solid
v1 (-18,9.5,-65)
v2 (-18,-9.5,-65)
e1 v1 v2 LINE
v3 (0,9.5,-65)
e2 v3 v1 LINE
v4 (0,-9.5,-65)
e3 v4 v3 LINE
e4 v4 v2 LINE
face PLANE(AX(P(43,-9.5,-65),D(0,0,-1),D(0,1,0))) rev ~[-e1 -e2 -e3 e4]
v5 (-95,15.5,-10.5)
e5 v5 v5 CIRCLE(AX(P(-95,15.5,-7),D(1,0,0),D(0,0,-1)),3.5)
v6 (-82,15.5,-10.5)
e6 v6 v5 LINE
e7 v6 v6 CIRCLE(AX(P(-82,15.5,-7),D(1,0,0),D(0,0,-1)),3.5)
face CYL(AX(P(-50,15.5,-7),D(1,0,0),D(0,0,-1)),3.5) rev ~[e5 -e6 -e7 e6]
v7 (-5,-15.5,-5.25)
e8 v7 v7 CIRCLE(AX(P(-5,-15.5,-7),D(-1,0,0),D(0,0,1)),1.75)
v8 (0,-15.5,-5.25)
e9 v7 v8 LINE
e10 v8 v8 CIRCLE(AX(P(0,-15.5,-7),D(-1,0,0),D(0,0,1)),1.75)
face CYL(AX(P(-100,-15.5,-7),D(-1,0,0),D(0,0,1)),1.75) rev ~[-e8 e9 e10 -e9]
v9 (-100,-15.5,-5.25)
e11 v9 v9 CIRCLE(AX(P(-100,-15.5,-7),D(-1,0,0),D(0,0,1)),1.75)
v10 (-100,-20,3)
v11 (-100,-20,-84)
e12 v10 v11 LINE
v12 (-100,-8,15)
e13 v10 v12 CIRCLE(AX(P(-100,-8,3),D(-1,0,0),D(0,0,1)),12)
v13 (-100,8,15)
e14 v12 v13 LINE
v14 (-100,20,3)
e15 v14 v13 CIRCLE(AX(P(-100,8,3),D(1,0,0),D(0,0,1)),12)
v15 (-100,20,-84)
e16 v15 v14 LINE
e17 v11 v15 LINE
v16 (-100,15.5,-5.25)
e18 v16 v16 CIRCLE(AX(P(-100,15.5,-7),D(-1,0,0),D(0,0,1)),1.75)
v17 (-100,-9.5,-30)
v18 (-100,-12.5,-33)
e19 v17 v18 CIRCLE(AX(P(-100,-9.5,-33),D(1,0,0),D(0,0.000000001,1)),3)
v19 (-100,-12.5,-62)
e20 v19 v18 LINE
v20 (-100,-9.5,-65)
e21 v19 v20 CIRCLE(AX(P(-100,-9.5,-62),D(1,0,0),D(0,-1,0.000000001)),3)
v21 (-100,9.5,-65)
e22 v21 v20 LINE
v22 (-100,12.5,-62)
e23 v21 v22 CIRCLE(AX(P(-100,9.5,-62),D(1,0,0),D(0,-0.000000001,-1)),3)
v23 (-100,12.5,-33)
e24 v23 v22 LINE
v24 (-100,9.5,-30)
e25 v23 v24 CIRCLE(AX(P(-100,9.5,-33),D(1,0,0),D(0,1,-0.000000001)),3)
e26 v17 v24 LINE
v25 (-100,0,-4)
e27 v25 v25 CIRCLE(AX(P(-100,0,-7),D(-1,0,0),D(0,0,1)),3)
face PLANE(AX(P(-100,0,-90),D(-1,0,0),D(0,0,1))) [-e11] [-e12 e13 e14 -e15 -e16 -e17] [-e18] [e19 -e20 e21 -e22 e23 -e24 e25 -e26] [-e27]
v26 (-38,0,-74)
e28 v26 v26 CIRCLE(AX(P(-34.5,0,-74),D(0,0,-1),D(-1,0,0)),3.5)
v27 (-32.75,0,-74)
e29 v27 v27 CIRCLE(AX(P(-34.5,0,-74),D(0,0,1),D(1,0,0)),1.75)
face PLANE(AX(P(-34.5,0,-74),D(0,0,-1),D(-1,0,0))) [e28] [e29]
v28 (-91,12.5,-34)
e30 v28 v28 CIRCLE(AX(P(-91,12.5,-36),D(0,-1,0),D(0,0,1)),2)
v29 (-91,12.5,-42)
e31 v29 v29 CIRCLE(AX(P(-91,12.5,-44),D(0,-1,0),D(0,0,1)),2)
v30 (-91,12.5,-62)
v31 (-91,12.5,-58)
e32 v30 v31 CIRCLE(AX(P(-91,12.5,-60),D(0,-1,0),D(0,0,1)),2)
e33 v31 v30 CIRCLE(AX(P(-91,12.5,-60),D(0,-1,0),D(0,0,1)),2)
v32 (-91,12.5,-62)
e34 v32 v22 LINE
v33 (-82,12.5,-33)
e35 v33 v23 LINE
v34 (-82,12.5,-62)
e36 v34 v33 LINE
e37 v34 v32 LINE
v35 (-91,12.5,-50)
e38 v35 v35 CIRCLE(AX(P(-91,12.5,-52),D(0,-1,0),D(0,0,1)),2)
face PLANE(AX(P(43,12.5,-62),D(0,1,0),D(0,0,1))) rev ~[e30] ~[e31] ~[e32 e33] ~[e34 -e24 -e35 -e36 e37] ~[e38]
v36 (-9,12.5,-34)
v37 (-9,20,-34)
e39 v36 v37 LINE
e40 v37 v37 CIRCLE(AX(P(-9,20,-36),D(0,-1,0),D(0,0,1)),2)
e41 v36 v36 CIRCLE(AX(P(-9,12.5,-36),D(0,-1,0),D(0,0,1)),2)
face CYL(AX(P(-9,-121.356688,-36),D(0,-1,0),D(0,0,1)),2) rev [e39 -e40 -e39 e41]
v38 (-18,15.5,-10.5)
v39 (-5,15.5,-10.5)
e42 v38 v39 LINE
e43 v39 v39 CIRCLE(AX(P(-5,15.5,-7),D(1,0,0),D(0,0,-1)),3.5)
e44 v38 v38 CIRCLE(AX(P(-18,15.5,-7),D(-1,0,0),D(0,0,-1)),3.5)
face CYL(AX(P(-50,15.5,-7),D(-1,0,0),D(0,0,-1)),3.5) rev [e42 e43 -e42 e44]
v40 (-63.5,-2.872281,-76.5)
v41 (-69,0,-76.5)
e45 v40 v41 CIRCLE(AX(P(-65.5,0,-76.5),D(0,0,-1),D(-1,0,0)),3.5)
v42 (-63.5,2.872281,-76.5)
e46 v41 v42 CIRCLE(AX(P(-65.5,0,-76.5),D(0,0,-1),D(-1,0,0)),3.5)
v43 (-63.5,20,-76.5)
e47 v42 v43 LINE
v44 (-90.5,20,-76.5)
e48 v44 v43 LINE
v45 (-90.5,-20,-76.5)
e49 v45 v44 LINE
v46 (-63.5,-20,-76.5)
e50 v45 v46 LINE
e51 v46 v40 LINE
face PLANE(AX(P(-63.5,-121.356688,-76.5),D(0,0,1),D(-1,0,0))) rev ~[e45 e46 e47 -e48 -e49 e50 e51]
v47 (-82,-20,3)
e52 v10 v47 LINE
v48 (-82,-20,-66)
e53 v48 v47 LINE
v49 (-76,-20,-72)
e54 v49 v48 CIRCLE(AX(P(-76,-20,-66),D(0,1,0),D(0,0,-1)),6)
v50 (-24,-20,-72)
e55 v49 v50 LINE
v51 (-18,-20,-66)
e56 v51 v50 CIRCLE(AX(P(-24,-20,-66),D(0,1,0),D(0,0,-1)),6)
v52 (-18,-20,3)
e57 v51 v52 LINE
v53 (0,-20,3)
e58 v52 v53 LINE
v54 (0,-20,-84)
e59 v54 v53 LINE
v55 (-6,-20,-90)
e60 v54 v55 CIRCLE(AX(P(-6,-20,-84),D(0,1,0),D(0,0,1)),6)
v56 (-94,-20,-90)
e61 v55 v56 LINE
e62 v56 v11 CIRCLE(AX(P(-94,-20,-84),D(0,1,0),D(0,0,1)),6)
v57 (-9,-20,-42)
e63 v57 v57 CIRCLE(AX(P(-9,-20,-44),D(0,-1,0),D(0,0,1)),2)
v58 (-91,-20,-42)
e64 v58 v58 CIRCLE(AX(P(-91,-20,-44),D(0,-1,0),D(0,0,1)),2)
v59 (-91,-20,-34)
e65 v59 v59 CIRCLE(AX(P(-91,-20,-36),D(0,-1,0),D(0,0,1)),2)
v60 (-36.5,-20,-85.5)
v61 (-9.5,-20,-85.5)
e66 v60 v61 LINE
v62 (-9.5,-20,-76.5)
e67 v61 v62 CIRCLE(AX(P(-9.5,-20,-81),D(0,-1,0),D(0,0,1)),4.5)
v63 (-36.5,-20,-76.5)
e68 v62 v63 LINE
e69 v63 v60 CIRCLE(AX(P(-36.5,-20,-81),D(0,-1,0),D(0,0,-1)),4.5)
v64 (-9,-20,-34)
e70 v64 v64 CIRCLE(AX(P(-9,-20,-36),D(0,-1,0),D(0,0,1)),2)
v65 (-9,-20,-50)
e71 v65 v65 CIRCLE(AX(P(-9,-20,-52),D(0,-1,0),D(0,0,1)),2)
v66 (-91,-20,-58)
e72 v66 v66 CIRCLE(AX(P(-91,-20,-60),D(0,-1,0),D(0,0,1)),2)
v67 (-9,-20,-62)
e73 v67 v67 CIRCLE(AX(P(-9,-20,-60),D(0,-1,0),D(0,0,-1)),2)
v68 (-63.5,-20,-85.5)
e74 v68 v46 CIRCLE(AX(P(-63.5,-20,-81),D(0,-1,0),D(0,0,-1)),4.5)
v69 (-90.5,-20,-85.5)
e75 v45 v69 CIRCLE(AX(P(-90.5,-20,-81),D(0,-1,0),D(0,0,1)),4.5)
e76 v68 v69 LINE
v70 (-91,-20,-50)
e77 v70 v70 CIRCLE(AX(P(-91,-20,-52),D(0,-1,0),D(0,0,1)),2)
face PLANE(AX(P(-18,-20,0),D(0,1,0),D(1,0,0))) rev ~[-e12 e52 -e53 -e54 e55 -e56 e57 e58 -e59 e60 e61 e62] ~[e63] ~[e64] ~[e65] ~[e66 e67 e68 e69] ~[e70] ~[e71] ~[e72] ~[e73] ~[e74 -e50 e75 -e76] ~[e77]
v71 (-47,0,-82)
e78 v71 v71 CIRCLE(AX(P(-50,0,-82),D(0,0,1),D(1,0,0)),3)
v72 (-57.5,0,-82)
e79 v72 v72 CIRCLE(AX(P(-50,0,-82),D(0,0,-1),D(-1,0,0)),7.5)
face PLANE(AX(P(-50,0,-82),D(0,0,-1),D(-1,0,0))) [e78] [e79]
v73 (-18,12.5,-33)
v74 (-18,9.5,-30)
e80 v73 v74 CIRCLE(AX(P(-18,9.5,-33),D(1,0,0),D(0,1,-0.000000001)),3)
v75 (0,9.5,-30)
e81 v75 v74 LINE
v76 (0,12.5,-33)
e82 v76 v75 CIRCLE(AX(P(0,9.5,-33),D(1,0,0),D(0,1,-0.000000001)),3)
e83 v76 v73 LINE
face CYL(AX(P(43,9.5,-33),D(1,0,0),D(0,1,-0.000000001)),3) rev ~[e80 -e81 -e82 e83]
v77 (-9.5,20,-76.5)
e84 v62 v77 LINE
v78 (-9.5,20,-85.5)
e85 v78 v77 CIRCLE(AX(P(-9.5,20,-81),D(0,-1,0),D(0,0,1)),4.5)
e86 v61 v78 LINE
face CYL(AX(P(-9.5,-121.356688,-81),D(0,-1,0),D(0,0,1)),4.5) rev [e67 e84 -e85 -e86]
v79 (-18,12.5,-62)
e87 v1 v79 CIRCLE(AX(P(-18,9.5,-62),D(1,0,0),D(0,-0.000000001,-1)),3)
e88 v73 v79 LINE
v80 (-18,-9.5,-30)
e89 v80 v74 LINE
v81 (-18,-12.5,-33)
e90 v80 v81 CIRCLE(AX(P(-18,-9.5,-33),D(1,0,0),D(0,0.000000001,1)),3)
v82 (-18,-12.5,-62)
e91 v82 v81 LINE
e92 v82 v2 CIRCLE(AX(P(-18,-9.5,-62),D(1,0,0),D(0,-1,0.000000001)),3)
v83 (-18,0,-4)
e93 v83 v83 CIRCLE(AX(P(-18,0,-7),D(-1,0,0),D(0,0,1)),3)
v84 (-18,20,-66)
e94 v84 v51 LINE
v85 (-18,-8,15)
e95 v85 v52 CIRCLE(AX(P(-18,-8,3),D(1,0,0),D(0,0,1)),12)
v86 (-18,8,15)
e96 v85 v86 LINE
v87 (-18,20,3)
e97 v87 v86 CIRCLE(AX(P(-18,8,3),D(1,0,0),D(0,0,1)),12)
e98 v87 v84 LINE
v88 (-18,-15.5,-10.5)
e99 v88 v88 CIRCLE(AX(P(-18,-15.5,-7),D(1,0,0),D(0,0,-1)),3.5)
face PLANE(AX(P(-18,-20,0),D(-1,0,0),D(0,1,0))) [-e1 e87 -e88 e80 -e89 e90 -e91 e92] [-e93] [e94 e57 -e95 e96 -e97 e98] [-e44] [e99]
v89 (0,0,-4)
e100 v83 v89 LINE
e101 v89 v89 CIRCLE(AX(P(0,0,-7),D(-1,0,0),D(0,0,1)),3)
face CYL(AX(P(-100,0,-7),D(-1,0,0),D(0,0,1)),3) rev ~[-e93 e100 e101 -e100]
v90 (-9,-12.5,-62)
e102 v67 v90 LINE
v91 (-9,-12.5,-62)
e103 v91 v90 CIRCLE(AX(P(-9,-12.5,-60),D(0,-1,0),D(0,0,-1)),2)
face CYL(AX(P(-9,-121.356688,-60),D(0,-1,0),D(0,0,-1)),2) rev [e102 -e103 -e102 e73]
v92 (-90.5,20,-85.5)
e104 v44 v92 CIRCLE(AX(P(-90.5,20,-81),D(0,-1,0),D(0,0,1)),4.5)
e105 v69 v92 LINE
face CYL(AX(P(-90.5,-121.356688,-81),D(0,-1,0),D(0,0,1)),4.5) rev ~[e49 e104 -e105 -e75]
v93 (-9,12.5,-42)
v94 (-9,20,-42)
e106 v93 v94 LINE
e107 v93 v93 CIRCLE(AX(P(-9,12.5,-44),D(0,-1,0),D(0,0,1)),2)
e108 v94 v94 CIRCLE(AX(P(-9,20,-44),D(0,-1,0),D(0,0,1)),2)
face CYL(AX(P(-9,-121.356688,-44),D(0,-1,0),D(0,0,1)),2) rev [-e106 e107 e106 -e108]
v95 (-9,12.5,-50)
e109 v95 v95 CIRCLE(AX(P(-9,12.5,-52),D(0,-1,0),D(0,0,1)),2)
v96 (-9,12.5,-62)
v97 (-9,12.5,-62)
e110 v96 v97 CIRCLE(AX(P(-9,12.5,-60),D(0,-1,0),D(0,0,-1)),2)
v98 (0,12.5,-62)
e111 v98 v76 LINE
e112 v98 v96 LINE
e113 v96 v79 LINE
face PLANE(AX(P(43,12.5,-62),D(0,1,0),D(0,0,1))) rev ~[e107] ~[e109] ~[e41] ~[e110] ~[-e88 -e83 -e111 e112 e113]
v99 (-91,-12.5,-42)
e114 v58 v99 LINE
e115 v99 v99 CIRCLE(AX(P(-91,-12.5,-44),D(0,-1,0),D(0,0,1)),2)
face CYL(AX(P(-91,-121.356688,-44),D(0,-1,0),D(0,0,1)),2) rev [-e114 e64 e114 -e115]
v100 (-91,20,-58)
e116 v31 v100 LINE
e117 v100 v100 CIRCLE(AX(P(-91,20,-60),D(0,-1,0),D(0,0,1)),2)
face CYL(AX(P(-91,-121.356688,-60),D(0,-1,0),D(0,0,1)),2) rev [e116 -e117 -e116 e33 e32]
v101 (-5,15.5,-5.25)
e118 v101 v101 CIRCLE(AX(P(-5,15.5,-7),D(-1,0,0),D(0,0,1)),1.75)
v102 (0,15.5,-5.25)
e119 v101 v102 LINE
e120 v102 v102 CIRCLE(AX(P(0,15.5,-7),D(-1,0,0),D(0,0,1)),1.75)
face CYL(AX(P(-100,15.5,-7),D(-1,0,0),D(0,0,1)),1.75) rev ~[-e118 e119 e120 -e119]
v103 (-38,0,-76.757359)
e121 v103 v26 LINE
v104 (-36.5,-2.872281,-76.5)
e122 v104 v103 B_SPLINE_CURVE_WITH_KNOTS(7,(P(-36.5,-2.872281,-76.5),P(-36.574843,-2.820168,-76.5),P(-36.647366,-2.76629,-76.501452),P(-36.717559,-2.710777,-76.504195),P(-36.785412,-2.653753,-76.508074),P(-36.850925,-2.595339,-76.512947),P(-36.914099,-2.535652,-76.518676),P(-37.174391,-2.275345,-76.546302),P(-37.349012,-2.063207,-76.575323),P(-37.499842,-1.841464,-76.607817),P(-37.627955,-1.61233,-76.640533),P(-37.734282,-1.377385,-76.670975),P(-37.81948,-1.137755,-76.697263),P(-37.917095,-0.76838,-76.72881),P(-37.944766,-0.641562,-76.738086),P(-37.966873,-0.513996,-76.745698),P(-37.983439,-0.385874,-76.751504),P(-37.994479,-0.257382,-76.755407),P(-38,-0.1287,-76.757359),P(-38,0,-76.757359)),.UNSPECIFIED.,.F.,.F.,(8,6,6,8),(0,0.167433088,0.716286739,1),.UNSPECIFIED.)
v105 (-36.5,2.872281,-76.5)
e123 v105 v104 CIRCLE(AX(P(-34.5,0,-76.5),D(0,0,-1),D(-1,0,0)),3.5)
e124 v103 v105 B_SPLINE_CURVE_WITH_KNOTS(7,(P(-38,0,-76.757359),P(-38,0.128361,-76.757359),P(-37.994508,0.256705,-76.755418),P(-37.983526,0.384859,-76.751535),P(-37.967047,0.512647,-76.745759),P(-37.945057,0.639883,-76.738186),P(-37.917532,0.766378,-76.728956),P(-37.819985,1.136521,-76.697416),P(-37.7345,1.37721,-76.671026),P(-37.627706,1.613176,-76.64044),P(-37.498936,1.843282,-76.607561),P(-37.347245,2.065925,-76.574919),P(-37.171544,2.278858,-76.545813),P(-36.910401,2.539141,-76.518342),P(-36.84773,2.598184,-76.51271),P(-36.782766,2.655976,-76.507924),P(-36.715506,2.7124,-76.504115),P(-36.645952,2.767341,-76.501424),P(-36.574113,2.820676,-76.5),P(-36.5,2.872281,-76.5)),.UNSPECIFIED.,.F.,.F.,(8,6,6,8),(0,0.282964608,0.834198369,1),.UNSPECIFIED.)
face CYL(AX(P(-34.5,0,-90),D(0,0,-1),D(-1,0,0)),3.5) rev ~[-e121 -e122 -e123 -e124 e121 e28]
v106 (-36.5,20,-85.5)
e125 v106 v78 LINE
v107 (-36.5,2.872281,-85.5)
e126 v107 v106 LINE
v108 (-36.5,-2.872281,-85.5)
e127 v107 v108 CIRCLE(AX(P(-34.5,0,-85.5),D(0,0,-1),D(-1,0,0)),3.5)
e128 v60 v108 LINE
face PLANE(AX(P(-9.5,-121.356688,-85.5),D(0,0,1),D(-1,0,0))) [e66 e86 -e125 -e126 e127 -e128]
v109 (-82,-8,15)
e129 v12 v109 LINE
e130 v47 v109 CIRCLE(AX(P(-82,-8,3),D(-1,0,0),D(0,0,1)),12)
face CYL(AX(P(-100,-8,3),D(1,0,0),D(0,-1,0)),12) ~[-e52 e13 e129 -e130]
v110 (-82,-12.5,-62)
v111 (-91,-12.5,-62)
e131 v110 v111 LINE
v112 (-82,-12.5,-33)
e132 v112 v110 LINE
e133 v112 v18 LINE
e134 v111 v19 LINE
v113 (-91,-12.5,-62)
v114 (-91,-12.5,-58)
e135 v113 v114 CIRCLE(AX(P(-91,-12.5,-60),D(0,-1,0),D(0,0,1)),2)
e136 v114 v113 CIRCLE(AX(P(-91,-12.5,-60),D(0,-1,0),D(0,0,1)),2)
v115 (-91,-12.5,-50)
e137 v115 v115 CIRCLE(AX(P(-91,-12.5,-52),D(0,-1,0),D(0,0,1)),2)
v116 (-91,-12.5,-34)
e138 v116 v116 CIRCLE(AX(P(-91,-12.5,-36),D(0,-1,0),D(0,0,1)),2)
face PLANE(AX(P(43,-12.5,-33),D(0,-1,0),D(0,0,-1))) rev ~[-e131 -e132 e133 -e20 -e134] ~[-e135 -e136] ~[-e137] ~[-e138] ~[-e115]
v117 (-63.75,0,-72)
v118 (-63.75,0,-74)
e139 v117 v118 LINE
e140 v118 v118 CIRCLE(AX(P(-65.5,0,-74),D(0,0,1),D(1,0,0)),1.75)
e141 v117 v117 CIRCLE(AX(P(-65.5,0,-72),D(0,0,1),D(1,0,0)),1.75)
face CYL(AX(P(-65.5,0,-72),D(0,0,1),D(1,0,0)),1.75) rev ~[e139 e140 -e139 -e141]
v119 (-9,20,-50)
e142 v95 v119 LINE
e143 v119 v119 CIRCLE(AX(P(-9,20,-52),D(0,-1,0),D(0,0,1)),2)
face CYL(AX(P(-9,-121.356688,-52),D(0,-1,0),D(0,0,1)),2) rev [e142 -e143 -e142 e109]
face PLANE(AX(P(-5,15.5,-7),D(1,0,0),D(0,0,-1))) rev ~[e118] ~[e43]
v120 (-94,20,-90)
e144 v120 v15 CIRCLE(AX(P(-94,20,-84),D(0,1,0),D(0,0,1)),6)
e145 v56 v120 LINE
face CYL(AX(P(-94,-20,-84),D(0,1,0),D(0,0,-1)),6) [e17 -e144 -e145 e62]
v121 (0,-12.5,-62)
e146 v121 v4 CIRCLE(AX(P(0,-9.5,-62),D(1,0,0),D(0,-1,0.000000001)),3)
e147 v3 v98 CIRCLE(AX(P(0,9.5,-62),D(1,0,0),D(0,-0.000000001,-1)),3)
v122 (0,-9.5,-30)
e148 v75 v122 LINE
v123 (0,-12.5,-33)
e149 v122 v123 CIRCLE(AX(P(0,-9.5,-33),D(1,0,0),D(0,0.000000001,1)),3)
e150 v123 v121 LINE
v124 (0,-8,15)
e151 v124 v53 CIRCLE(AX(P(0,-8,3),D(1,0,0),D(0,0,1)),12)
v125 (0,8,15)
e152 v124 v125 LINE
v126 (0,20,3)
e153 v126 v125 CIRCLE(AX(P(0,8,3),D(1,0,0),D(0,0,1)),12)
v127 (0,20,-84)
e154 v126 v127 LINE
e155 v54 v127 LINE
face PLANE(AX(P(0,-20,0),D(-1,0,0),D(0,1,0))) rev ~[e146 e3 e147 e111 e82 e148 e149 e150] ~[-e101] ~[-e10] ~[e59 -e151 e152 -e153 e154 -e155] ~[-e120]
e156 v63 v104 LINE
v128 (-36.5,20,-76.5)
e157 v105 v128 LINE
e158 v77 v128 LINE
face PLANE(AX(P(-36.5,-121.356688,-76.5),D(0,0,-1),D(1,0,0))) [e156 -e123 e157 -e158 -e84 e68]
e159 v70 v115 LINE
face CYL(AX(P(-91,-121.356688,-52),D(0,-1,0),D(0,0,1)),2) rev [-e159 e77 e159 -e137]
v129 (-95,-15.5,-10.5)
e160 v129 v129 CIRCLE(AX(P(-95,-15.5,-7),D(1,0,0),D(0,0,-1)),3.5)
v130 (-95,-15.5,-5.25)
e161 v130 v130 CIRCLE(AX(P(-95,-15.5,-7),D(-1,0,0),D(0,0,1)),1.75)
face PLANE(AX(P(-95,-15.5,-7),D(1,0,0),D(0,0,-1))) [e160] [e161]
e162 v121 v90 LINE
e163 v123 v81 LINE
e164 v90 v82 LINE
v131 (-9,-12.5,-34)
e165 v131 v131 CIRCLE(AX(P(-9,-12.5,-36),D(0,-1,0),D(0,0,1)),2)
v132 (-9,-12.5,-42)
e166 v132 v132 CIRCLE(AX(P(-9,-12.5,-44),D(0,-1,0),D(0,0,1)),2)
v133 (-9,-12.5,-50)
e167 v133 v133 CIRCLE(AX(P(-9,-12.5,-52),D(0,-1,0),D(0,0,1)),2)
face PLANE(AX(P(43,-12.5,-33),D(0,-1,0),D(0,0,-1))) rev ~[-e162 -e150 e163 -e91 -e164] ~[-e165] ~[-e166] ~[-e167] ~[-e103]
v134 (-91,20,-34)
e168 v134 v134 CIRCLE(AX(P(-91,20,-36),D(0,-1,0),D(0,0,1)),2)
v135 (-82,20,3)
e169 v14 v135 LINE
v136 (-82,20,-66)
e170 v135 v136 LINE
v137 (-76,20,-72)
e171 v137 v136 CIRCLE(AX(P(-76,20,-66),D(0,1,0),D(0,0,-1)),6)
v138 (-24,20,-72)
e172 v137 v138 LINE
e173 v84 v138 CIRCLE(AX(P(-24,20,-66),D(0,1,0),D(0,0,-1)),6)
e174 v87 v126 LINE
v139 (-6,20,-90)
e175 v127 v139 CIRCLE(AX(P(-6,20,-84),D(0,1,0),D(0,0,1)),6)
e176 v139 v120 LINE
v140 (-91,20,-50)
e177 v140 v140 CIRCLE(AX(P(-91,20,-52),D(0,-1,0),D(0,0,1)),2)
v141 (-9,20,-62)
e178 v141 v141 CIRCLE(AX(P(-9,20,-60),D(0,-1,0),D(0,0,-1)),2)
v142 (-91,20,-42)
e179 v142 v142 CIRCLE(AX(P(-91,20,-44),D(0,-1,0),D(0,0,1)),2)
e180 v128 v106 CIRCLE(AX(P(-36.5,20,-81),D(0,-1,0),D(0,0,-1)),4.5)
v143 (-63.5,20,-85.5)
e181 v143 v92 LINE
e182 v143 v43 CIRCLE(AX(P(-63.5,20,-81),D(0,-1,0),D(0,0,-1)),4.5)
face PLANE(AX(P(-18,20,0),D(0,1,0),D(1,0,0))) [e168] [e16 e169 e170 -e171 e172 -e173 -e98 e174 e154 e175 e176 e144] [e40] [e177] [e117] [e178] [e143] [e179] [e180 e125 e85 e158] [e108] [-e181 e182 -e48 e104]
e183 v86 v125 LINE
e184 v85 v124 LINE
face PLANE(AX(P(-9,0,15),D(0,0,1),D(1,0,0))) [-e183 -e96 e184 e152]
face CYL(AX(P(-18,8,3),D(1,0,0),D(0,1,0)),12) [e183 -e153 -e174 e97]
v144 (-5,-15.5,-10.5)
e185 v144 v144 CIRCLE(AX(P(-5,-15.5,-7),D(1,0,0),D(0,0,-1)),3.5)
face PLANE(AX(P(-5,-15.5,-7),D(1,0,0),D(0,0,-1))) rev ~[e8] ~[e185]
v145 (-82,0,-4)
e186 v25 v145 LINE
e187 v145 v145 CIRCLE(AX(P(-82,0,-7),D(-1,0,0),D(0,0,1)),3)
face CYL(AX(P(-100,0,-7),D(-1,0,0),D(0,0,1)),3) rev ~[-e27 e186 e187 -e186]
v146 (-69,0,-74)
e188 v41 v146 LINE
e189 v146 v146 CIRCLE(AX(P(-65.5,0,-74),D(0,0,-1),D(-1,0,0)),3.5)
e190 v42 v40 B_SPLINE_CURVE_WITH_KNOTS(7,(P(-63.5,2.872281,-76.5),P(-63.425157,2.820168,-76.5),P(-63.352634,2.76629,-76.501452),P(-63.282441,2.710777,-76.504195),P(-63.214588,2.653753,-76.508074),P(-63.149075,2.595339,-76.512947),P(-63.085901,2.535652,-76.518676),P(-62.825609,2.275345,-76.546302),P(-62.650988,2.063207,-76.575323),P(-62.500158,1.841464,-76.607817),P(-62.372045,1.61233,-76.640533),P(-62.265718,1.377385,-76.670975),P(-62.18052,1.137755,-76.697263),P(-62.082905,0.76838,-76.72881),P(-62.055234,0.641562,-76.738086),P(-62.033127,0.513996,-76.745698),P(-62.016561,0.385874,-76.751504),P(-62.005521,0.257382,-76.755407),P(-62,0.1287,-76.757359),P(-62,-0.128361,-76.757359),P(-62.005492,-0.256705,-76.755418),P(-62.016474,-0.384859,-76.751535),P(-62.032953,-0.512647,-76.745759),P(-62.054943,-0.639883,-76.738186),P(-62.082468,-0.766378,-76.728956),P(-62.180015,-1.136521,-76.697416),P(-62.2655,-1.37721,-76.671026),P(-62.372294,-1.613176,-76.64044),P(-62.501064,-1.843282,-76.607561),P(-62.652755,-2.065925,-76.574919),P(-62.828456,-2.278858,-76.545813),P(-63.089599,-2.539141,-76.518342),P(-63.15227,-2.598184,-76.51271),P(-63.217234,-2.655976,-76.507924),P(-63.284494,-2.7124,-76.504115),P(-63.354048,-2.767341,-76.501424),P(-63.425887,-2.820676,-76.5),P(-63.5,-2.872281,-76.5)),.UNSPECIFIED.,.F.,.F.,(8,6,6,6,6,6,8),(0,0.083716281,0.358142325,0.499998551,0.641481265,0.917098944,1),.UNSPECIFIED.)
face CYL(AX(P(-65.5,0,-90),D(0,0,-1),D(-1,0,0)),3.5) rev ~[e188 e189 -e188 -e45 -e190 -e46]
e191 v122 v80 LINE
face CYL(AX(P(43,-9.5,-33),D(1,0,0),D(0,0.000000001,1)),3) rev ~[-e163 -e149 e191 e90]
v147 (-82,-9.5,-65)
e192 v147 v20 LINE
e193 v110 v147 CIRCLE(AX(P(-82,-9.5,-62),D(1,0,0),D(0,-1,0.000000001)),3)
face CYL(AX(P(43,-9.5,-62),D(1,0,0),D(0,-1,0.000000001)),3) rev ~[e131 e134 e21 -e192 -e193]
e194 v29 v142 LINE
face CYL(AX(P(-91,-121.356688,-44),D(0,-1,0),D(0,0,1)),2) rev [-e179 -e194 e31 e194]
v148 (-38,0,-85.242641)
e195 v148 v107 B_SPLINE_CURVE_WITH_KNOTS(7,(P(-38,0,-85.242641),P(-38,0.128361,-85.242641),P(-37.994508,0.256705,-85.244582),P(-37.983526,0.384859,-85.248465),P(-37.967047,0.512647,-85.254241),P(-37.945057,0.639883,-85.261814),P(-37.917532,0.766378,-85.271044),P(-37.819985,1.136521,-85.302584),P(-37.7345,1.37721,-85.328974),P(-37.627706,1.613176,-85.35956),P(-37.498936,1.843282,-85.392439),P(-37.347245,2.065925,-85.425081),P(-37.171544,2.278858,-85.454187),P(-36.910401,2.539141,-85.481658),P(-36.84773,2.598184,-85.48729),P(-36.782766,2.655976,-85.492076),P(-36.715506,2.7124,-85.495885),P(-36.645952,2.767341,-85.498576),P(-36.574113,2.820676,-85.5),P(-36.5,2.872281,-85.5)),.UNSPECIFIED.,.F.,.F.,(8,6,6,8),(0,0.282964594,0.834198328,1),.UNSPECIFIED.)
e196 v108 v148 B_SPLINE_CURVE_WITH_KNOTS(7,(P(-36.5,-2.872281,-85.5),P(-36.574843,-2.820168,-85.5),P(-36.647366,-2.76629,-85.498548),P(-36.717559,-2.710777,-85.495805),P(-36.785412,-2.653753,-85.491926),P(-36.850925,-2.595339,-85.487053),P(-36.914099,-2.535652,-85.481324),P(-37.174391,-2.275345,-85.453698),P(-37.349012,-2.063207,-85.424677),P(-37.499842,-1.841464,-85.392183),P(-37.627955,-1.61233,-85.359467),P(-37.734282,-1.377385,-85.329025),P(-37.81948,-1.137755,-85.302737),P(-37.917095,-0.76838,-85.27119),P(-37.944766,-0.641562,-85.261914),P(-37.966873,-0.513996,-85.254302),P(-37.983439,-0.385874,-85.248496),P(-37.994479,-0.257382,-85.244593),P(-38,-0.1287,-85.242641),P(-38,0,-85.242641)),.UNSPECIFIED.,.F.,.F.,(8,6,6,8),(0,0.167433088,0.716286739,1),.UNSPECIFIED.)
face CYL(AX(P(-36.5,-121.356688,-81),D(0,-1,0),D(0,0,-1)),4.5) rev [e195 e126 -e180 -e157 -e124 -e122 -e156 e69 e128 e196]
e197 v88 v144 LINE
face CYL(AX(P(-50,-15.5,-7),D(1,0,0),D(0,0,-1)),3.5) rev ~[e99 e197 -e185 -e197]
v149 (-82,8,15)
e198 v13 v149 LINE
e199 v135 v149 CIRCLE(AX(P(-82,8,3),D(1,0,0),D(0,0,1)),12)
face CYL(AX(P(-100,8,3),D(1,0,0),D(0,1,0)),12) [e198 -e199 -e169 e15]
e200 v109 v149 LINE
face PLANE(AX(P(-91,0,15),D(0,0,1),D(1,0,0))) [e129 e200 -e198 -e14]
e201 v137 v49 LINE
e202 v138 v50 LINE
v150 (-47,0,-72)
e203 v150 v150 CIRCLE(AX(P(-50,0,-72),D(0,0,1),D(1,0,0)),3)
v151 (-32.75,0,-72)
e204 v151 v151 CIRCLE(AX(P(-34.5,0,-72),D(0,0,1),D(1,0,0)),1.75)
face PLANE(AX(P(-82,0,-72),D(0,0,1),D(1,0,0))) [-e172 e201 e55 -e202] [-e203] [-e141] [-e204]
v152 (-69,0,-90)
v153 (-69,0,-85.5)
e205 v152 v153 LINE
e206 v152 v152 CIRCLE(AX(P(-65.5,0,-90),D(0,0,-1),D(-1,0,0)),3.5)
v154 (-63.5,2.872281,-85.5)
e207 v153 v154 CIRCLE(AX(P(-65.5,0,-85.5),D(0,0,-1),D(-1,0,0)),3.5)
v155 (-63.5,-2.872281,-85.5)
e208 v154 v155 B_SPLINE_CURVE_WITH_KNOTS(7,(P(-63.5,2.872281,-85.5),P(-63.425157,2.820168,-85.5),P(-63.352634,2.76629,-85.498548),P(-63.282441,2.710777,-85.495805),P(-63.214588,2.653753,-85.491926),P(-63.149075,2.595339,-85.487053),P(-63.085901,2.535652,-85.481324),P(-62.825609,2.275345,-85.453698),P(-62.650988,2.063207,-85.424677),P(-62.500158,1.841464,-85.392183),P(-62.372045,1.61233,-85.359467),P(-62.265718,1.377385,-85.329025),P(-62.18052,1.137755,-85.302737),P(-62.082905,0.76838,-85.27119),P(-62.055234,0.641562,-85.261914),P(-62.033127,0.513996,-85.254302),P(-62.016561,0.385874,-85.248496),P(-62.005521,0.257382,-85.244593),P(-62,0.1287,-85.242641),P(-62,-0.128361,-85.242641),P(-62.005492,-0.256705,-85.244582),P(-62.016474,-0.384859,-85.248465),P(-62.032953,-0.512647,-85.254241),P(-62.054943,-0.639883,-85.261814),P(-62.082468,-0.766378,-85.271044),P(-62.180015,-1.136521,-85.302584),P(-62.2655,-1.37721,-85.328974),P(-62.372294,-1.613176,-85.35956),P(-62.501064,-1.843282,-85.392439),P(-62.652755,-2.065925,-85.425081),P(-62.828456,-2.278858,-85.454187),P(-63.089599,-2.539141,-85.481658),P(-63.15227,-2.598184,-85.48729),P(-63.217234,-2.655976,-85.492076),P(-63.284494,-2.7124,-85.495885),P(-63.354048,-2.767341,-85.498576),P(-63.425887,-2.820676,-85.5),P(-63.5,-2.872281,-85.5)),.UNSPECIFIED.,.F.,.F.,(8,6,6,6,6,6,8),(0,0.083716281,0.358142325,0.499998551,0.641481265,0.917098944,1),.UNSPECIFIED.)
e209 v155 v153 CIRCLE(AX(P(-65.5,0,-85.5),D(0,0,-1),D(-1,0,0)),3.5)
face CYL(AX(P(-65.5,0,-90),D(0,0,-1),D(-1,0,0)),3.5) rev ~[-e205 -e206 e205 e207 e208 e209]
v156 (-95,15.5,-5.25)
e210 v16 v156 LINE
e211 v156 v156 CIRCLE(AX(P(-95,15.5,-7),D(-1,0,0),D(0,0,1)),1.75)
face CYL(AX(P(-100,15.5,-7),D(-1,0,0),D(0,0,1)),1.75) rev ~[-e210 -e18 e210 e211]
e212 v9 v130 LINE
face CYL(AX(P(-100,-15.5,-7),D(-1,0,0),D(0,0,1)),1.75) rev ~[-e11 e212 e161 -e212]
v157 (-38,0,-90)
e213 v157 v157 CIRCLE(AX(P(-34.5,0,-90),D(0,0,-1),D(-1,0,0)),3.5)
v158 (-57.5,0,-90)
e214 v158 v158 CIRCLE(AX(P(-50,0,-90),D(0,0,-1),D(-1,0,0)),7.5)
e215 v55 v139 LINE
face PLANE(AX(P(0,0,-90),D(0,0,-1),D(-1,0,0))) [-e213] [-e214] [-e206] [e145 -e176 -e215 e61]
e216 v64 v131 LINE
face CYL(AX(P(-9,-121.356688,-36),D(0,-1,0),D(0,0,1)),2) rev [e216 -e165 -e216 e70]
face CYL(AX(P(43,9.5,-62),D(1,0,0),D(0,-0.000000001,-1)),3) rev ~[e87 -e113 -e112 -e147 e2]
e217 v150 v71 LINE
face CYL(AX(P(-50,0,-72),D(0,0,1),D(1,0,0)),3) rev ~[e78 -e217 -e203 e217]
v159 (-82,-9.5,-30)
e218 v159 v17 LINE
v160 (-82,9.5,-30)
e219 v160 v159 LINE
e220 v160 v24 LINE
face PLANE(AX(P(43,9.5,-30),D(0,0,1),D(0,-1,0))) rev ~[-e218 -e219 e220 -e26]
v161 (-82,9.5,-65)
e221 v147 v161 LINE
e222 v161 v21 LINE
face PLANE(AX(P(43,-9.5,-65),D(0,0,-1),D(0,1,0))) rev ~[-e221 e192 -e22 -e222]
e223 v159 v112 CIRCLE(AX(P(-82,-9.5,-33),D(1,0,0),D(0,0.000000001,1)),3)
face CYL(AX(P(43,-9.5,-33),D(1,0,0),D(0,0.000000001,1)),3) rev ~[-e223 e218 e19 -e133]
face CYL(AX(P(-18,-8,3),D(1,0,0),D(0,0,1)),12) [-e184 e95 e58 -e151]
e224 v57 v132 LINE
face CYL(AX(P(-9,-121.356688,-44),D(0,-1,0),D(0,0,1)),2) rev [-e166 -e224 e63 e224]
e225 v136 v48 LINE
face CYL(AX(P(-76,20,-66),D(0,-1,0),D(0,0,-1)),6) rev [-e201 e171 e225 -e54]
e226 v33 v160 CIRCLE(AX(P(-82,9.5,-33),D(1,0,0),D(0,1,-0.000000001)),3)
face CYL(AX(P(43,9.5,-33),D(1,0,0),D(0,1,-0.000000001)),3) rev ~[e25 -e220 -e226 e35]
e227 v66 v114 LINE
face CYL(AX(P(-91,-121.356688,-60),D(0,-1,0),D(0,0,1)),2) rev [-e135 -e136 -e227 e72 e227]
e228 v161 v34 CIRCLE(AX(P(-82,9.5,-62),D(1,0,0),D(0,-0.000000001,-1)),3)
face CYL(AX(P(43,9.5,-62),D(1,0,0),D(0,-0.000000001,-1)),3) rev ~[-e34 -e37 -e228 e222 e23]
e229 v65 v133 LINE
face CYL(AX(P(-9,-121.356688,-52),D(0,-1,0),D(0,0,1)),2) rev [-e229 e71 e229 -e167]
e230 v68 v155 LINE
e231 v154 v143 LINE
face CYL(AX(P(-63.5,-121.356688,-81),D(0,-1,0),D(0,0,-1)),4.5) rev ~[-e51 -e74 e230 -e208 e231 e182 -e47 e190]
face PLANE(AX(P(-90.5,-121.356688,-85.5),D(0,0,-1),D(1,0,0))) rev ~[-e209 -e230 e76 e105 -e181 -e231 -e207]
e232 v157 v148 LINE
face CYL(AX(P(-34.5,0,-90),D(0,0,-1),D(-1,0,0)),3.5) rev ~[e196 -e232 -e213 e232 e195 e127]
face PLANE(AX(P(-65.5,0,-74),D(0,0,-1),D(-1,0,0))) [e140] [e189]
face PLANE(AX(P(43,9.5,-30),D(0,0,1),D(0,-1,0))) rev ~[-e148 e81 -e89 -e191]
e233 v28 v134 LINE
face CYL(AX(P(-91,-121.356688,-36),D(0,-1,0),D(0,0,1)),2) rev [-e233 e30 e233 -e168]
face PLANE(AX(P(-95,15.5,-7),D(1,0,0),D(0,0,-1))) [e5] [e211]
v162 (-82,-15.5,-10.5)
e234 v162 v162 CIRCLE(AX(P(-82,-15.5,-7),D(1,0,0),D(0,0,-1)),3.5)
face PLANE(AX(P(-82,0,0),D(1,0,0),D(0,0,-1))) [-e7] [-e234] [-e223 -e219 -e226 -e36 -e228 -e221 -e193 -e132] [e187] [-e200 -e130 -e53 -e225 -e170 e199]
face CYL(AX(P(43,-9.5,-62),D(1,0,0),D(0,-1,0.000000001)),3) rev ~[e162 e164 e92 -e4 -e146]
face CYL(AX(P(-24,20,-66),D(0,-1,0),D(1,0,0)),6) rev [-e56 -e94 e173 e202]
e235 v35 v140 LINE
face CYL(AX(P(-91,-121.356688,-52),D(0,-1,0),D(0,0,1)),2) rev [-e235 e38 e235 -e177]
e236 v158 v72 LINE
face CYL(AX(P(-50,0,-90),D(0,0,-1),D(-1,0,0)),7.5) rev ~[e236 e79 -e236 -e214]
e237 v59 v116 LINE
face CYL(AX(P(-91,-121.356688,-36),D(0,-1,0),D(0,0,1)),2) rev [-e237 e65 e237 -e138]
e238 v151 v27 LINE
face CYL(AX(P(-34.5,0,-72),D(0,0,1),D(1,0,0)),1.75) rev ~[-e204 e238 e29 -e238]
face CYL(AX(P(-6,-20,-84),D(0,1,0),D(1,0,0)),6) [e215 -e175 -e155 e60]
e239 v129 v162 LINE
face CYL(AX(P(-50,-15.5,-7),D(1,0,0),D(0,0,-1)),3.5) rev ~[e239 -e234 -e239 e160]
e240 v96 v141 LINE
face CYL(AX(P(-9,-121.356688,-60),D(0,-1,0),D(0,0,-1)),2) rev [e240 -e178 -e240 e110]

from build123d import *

# Parameters (mm, degrees)
EXTRUDE_1_DEPTH          = 20
SKETCH_2_R               = 3
SKETCH_2_R_2             = 1.75
CUT_EXTRUDE_1_DEPTH      = 112
CUT_EXTRUDE_2_DEPTH      = 123
CUT_EXTRUDE_2_DEPTH_BACK = 61
SKETCH_5_W               = 18
SKETCH_5_H               = 40
EXTRUDE_3_DEPTH          = 15
CUT_EXTRUDE_3_DEPTH      = 141.356688476
CUT_EXTRUDE_3_DEPTH_BACK = 141.356688476
SKETCH_6_R               = 2
CUT_EXTRUDE_4_DEPTH      = 141.356688476
CUT_EXTRUDE_4_DEPTH_BACK = 141.356688476
FILLET_1_R               = 6
FILLET_2_R               = 12
SKETCH_9_R               = 7.5
CUT_EXTRUDE_6_DEPTH      = 8
SKETCH_10_R              = 3
CUT_EXTRUDE_7_DEPTH      = 16
SKETCH_11_R              = 1.75
SKETCH_11_R_2            = 3
CUT_EXTRUDE_8_DEPTH      = 23
SKETCH_12_R              = 3.5
CUT_EXTRUDE_9_DEPTH      = 16
SKETCH_14_R              = 3.5
CUT_EXTRUDE_10_DEPTH     = 45


with BuildPart() as part:
    # 草图1 → 凸台-拉伸1 (new, symmetric)
    with BuildSketch(Plane(origin=(0, 0, 0), x_dir=(1, 0, 0), z_dir=(0, 1, 0))):
        Polygon((-18, 0), (0, 0), (0, 90), (-100, 90), (-100, 0), (-82, 0), (-82, 72), (-18, 72), align=None)
    extrude(amount=EXTRUDE_1_DEPTH, both=True)

    # 草图2 → 切除-拉伸1 (cut)
    with BuildSketch(Plane.ZY.offset(100)):
        with Locations((-7, 0)):
            Circle(SKETCH_2_R)
        with Locations((-7, 15.5)):
            Circle(SKETCH_2_R_2)
        with Locations((-7, -15.5)):
            Circle(SKETCH_2_R_2)
    extrude(amount=-CUT_EXTRUDE_1_DEPTH, mode=Mode.SUBTRACT)

    # 草图4 → 切除-拉伸2 (cut, two sides: drawn at the far end of the back side and taken through both)
    with BuildSketch(Plane.ZY.offset(18).offset(-CUT_EXTRUDE_2_DEPTH_BACK)):
        with BuildLine():
            Line((-62, 12.5), (-33, 12.5))
            ThreePointArc((-33, 12.5), (-30.878679656, 11.621320344), (-30, 9.5))
            Line((-30, 9.5), (-30, -9.5))
            ThreePointArc((-30, -9.5), (-30.878679656, -11.621320344), (-33, -12.5))
            Line((-33, -12.5), (-62, -12.5))
            ThreePointArc((-62, -12.5), (-64.121320344, -11.621320344), (-65, -9.5))
            Line((-65, -9.5), (-65, 9.5))
            ThreePointArc((-65, 9.5), (-64.121320344, 11.621320344), (-62, 12.5))
        make_face()
    extrude(amount=CUT_EXTRUDE_2_DEPTH + CUT_EXTRUDE_2_DEPTH_BACK, mode=Mode.SUBTRACT)

    # 草图5 → 凸台-拉伸3 (add)
    with BuildSketch(Plane.XY):
        with Locations((-9, 0)):
            Rectangle(SKETCH_5_W, SKETCH_5_H)
        with Locations((-91, 0)):
            Rectangle(SKETCH_5_W, SKETCH_5_H)
    extrude(amount=EXTRUDE_3_DEPTH)

    # 草图6 → 切除-拉伸3 (cut, two sides: drawn at the far end of the back side and taken through both)
    with BuildSketch(Plane(origin=(0, 20, 0), x_dir=(1, 0, 0), z_dir=(0, 1, 0)).offset(-CUT_EXTRUDE_3_DEPTH_BACK)):
        with Locations(Location((-91, 60, 0), (0, 0, 270))):
            Circle(SKETCH_6_R)
        with Locations(Location((-91, 52, 0), (0, 0, 270))):
            Circle(SKETCH_6_R)
        with Locations(Location((-91, 44, 0), (0, 0, 270))):
            Circle(SKETCH_6_R)
        with Locations(Location((-91, 36, 0), (0, 0, 270))):
            Circle(SKETCH_6_R)
        with Locations(Location((-9, 36, 0), (0, 0, 270))):
            Circle(SKETCH_6_R)
        with Locations(Location((-9, 44, 0), (0, 0, 270))):
            Circle(SKETCH_6_R)
        with Locations(Location((-9, 52, 0), (0, 0, 270))):
            Circle(SKETCH_6_R)
        with Locations(Location((-9, 60, 0), (0, 0, 90))):
            Circle(SKETCH_6_R)
    extrude(amount=CUT_EXTRUDE_3_DEPTH + CUT_EXTRUDE_3_DEPTH_BACK, mode=Mode.SUBTRACT)

    # 草图7 → 切除-拉伸4 (cut, two sides: drawn at the far end of the back side and taken through both)
    with BuildSketch(Plane(origin=(0, 20, 0), x_dir=(1, 0, 0), z_dir=(0, 1, 0)).offset(-CUT_EXTRUDE_4_DEPTH_BACK)):
        with BuildLine():
            Line((-90.5, 85.5), (-63.5, 85.5))
            ThreePointArc((-63.5, 85.5), (-59, 81), (-63.5, 76.5))
            Line((-63.5, 76.5), (-90.5, 76.5))
            ThreePointArc((-90.5, 76.5), (-95, 81), (-90.5, 85.5))
        make_face()
        with BuildLine():
            Line((-9.5, 85.5), (-36.5, 85.5))
            ThreePointArc((-36.5, 85.5), (-41, 81), (-36.5, 76.5))
            Line((-36.5, 76.5), (-9.5, 76.5))
            ThreePointArc((-9.5, 76.5), (-5, 81), (-9.5, 85.5))
        make_face()
    extrude(amount=CUT_EXTRUDE_4_DEPTH + CUT_EXTRUDE_4_DEPTH_BACK, mode=Mode.SUBTRACT)

    # 圆角1
    fillet_1_edges = [part.edges().sort_by_distance(p)[0] for p in [
        (-18, 0, -72),
        (-82, 0, -72),
        (-100, 0, -90),
        (0, 0, -90),
    ]]
    fillet(fillet_1_edges, radius=FILLET_1_R)

    # 圆角2
    fillet_2_edges = [part.edges().sort_by_distance(p)[0] for p in [
        (-9, -20, 15),
        (-9, 20, 15),
        (-91, -20, 15),
        (-91, 20, 15),
    ]]
    fillet(fillet_2_edges, radius=FILLET_2_R)

    # 草图9 → 切除-拉伸6 (cut)
    with BuildSketch(Plane(origin=(0, 0, -90), x_dir=(-1, 0, 0), z_dir=(0, 0, -1))):
        with Locations((50, 0)):
            Circle(SKETCH_9_R)
    extrude(amount=-CUT_EXTRUDE_6_DEPTH, mode=Mode.SUBTRACT)

    # 草图10 → 切除-拉伸7 (cut)
    with BuildSketch(Plane.XY.offset(-72)):
        with Locations((-50, 0)):
            Circle(SKETCH_10_R)
    extrude(amount=-CUT_EXTRUDE_7_DEPTH, mode=Mode.SUBTRACT)

    # 草图11 → 切除-拉伸8 (cut)
    with BuildSketch(Plane.XY.offset(-72)):
        with Locations((-34.5, 0)):
            Circle(SKETCH_11_R)
        with Locations((-65.5, 0)):
            Circle(SKETCH_11_R)
        with Locations((-50, 0)):
            Circle(SKETCH_11_R_2)
    extrude(amount=-CUT_EXTRUDE_8_DEPTH, mode=Mode.SUBTRACT)

    # 草图12 → 切除-拉伸9 (cut)
    with BuildSketch(Plane(origin=(0, 0, -90), x_dir=(-1, 0, 0), z_dir=(0, 0, -1))):
        with Locations((34.5, 0)):
            Circle(SKETCH_12_R)
        with Locations((65.5, 0)):
            Circle(SKETCH_12_R)
    extrude(amount=-CUT_EXTRUDE_9_DEPTH, mode=Mode.SUBTRACT)

    # 草图14 → 切除-拉伸10 (cut, symmetric)
    with BuildSketch(Plane(origin=(-50, 0, 0), x_dir=(0, 0, -1), z_dir=(1, 0, 0))):
        with Locations((7, 15.5)):
            Circle(SKETCH_14_R)
        with Locations((7, -15.5)):
            Circle(SKETCH_14_R)
    extrude(amount=CUT_EXTRUDE_10_DEPTH, both=True, mode=Mode.SUBTRACT)


solid = part.part
